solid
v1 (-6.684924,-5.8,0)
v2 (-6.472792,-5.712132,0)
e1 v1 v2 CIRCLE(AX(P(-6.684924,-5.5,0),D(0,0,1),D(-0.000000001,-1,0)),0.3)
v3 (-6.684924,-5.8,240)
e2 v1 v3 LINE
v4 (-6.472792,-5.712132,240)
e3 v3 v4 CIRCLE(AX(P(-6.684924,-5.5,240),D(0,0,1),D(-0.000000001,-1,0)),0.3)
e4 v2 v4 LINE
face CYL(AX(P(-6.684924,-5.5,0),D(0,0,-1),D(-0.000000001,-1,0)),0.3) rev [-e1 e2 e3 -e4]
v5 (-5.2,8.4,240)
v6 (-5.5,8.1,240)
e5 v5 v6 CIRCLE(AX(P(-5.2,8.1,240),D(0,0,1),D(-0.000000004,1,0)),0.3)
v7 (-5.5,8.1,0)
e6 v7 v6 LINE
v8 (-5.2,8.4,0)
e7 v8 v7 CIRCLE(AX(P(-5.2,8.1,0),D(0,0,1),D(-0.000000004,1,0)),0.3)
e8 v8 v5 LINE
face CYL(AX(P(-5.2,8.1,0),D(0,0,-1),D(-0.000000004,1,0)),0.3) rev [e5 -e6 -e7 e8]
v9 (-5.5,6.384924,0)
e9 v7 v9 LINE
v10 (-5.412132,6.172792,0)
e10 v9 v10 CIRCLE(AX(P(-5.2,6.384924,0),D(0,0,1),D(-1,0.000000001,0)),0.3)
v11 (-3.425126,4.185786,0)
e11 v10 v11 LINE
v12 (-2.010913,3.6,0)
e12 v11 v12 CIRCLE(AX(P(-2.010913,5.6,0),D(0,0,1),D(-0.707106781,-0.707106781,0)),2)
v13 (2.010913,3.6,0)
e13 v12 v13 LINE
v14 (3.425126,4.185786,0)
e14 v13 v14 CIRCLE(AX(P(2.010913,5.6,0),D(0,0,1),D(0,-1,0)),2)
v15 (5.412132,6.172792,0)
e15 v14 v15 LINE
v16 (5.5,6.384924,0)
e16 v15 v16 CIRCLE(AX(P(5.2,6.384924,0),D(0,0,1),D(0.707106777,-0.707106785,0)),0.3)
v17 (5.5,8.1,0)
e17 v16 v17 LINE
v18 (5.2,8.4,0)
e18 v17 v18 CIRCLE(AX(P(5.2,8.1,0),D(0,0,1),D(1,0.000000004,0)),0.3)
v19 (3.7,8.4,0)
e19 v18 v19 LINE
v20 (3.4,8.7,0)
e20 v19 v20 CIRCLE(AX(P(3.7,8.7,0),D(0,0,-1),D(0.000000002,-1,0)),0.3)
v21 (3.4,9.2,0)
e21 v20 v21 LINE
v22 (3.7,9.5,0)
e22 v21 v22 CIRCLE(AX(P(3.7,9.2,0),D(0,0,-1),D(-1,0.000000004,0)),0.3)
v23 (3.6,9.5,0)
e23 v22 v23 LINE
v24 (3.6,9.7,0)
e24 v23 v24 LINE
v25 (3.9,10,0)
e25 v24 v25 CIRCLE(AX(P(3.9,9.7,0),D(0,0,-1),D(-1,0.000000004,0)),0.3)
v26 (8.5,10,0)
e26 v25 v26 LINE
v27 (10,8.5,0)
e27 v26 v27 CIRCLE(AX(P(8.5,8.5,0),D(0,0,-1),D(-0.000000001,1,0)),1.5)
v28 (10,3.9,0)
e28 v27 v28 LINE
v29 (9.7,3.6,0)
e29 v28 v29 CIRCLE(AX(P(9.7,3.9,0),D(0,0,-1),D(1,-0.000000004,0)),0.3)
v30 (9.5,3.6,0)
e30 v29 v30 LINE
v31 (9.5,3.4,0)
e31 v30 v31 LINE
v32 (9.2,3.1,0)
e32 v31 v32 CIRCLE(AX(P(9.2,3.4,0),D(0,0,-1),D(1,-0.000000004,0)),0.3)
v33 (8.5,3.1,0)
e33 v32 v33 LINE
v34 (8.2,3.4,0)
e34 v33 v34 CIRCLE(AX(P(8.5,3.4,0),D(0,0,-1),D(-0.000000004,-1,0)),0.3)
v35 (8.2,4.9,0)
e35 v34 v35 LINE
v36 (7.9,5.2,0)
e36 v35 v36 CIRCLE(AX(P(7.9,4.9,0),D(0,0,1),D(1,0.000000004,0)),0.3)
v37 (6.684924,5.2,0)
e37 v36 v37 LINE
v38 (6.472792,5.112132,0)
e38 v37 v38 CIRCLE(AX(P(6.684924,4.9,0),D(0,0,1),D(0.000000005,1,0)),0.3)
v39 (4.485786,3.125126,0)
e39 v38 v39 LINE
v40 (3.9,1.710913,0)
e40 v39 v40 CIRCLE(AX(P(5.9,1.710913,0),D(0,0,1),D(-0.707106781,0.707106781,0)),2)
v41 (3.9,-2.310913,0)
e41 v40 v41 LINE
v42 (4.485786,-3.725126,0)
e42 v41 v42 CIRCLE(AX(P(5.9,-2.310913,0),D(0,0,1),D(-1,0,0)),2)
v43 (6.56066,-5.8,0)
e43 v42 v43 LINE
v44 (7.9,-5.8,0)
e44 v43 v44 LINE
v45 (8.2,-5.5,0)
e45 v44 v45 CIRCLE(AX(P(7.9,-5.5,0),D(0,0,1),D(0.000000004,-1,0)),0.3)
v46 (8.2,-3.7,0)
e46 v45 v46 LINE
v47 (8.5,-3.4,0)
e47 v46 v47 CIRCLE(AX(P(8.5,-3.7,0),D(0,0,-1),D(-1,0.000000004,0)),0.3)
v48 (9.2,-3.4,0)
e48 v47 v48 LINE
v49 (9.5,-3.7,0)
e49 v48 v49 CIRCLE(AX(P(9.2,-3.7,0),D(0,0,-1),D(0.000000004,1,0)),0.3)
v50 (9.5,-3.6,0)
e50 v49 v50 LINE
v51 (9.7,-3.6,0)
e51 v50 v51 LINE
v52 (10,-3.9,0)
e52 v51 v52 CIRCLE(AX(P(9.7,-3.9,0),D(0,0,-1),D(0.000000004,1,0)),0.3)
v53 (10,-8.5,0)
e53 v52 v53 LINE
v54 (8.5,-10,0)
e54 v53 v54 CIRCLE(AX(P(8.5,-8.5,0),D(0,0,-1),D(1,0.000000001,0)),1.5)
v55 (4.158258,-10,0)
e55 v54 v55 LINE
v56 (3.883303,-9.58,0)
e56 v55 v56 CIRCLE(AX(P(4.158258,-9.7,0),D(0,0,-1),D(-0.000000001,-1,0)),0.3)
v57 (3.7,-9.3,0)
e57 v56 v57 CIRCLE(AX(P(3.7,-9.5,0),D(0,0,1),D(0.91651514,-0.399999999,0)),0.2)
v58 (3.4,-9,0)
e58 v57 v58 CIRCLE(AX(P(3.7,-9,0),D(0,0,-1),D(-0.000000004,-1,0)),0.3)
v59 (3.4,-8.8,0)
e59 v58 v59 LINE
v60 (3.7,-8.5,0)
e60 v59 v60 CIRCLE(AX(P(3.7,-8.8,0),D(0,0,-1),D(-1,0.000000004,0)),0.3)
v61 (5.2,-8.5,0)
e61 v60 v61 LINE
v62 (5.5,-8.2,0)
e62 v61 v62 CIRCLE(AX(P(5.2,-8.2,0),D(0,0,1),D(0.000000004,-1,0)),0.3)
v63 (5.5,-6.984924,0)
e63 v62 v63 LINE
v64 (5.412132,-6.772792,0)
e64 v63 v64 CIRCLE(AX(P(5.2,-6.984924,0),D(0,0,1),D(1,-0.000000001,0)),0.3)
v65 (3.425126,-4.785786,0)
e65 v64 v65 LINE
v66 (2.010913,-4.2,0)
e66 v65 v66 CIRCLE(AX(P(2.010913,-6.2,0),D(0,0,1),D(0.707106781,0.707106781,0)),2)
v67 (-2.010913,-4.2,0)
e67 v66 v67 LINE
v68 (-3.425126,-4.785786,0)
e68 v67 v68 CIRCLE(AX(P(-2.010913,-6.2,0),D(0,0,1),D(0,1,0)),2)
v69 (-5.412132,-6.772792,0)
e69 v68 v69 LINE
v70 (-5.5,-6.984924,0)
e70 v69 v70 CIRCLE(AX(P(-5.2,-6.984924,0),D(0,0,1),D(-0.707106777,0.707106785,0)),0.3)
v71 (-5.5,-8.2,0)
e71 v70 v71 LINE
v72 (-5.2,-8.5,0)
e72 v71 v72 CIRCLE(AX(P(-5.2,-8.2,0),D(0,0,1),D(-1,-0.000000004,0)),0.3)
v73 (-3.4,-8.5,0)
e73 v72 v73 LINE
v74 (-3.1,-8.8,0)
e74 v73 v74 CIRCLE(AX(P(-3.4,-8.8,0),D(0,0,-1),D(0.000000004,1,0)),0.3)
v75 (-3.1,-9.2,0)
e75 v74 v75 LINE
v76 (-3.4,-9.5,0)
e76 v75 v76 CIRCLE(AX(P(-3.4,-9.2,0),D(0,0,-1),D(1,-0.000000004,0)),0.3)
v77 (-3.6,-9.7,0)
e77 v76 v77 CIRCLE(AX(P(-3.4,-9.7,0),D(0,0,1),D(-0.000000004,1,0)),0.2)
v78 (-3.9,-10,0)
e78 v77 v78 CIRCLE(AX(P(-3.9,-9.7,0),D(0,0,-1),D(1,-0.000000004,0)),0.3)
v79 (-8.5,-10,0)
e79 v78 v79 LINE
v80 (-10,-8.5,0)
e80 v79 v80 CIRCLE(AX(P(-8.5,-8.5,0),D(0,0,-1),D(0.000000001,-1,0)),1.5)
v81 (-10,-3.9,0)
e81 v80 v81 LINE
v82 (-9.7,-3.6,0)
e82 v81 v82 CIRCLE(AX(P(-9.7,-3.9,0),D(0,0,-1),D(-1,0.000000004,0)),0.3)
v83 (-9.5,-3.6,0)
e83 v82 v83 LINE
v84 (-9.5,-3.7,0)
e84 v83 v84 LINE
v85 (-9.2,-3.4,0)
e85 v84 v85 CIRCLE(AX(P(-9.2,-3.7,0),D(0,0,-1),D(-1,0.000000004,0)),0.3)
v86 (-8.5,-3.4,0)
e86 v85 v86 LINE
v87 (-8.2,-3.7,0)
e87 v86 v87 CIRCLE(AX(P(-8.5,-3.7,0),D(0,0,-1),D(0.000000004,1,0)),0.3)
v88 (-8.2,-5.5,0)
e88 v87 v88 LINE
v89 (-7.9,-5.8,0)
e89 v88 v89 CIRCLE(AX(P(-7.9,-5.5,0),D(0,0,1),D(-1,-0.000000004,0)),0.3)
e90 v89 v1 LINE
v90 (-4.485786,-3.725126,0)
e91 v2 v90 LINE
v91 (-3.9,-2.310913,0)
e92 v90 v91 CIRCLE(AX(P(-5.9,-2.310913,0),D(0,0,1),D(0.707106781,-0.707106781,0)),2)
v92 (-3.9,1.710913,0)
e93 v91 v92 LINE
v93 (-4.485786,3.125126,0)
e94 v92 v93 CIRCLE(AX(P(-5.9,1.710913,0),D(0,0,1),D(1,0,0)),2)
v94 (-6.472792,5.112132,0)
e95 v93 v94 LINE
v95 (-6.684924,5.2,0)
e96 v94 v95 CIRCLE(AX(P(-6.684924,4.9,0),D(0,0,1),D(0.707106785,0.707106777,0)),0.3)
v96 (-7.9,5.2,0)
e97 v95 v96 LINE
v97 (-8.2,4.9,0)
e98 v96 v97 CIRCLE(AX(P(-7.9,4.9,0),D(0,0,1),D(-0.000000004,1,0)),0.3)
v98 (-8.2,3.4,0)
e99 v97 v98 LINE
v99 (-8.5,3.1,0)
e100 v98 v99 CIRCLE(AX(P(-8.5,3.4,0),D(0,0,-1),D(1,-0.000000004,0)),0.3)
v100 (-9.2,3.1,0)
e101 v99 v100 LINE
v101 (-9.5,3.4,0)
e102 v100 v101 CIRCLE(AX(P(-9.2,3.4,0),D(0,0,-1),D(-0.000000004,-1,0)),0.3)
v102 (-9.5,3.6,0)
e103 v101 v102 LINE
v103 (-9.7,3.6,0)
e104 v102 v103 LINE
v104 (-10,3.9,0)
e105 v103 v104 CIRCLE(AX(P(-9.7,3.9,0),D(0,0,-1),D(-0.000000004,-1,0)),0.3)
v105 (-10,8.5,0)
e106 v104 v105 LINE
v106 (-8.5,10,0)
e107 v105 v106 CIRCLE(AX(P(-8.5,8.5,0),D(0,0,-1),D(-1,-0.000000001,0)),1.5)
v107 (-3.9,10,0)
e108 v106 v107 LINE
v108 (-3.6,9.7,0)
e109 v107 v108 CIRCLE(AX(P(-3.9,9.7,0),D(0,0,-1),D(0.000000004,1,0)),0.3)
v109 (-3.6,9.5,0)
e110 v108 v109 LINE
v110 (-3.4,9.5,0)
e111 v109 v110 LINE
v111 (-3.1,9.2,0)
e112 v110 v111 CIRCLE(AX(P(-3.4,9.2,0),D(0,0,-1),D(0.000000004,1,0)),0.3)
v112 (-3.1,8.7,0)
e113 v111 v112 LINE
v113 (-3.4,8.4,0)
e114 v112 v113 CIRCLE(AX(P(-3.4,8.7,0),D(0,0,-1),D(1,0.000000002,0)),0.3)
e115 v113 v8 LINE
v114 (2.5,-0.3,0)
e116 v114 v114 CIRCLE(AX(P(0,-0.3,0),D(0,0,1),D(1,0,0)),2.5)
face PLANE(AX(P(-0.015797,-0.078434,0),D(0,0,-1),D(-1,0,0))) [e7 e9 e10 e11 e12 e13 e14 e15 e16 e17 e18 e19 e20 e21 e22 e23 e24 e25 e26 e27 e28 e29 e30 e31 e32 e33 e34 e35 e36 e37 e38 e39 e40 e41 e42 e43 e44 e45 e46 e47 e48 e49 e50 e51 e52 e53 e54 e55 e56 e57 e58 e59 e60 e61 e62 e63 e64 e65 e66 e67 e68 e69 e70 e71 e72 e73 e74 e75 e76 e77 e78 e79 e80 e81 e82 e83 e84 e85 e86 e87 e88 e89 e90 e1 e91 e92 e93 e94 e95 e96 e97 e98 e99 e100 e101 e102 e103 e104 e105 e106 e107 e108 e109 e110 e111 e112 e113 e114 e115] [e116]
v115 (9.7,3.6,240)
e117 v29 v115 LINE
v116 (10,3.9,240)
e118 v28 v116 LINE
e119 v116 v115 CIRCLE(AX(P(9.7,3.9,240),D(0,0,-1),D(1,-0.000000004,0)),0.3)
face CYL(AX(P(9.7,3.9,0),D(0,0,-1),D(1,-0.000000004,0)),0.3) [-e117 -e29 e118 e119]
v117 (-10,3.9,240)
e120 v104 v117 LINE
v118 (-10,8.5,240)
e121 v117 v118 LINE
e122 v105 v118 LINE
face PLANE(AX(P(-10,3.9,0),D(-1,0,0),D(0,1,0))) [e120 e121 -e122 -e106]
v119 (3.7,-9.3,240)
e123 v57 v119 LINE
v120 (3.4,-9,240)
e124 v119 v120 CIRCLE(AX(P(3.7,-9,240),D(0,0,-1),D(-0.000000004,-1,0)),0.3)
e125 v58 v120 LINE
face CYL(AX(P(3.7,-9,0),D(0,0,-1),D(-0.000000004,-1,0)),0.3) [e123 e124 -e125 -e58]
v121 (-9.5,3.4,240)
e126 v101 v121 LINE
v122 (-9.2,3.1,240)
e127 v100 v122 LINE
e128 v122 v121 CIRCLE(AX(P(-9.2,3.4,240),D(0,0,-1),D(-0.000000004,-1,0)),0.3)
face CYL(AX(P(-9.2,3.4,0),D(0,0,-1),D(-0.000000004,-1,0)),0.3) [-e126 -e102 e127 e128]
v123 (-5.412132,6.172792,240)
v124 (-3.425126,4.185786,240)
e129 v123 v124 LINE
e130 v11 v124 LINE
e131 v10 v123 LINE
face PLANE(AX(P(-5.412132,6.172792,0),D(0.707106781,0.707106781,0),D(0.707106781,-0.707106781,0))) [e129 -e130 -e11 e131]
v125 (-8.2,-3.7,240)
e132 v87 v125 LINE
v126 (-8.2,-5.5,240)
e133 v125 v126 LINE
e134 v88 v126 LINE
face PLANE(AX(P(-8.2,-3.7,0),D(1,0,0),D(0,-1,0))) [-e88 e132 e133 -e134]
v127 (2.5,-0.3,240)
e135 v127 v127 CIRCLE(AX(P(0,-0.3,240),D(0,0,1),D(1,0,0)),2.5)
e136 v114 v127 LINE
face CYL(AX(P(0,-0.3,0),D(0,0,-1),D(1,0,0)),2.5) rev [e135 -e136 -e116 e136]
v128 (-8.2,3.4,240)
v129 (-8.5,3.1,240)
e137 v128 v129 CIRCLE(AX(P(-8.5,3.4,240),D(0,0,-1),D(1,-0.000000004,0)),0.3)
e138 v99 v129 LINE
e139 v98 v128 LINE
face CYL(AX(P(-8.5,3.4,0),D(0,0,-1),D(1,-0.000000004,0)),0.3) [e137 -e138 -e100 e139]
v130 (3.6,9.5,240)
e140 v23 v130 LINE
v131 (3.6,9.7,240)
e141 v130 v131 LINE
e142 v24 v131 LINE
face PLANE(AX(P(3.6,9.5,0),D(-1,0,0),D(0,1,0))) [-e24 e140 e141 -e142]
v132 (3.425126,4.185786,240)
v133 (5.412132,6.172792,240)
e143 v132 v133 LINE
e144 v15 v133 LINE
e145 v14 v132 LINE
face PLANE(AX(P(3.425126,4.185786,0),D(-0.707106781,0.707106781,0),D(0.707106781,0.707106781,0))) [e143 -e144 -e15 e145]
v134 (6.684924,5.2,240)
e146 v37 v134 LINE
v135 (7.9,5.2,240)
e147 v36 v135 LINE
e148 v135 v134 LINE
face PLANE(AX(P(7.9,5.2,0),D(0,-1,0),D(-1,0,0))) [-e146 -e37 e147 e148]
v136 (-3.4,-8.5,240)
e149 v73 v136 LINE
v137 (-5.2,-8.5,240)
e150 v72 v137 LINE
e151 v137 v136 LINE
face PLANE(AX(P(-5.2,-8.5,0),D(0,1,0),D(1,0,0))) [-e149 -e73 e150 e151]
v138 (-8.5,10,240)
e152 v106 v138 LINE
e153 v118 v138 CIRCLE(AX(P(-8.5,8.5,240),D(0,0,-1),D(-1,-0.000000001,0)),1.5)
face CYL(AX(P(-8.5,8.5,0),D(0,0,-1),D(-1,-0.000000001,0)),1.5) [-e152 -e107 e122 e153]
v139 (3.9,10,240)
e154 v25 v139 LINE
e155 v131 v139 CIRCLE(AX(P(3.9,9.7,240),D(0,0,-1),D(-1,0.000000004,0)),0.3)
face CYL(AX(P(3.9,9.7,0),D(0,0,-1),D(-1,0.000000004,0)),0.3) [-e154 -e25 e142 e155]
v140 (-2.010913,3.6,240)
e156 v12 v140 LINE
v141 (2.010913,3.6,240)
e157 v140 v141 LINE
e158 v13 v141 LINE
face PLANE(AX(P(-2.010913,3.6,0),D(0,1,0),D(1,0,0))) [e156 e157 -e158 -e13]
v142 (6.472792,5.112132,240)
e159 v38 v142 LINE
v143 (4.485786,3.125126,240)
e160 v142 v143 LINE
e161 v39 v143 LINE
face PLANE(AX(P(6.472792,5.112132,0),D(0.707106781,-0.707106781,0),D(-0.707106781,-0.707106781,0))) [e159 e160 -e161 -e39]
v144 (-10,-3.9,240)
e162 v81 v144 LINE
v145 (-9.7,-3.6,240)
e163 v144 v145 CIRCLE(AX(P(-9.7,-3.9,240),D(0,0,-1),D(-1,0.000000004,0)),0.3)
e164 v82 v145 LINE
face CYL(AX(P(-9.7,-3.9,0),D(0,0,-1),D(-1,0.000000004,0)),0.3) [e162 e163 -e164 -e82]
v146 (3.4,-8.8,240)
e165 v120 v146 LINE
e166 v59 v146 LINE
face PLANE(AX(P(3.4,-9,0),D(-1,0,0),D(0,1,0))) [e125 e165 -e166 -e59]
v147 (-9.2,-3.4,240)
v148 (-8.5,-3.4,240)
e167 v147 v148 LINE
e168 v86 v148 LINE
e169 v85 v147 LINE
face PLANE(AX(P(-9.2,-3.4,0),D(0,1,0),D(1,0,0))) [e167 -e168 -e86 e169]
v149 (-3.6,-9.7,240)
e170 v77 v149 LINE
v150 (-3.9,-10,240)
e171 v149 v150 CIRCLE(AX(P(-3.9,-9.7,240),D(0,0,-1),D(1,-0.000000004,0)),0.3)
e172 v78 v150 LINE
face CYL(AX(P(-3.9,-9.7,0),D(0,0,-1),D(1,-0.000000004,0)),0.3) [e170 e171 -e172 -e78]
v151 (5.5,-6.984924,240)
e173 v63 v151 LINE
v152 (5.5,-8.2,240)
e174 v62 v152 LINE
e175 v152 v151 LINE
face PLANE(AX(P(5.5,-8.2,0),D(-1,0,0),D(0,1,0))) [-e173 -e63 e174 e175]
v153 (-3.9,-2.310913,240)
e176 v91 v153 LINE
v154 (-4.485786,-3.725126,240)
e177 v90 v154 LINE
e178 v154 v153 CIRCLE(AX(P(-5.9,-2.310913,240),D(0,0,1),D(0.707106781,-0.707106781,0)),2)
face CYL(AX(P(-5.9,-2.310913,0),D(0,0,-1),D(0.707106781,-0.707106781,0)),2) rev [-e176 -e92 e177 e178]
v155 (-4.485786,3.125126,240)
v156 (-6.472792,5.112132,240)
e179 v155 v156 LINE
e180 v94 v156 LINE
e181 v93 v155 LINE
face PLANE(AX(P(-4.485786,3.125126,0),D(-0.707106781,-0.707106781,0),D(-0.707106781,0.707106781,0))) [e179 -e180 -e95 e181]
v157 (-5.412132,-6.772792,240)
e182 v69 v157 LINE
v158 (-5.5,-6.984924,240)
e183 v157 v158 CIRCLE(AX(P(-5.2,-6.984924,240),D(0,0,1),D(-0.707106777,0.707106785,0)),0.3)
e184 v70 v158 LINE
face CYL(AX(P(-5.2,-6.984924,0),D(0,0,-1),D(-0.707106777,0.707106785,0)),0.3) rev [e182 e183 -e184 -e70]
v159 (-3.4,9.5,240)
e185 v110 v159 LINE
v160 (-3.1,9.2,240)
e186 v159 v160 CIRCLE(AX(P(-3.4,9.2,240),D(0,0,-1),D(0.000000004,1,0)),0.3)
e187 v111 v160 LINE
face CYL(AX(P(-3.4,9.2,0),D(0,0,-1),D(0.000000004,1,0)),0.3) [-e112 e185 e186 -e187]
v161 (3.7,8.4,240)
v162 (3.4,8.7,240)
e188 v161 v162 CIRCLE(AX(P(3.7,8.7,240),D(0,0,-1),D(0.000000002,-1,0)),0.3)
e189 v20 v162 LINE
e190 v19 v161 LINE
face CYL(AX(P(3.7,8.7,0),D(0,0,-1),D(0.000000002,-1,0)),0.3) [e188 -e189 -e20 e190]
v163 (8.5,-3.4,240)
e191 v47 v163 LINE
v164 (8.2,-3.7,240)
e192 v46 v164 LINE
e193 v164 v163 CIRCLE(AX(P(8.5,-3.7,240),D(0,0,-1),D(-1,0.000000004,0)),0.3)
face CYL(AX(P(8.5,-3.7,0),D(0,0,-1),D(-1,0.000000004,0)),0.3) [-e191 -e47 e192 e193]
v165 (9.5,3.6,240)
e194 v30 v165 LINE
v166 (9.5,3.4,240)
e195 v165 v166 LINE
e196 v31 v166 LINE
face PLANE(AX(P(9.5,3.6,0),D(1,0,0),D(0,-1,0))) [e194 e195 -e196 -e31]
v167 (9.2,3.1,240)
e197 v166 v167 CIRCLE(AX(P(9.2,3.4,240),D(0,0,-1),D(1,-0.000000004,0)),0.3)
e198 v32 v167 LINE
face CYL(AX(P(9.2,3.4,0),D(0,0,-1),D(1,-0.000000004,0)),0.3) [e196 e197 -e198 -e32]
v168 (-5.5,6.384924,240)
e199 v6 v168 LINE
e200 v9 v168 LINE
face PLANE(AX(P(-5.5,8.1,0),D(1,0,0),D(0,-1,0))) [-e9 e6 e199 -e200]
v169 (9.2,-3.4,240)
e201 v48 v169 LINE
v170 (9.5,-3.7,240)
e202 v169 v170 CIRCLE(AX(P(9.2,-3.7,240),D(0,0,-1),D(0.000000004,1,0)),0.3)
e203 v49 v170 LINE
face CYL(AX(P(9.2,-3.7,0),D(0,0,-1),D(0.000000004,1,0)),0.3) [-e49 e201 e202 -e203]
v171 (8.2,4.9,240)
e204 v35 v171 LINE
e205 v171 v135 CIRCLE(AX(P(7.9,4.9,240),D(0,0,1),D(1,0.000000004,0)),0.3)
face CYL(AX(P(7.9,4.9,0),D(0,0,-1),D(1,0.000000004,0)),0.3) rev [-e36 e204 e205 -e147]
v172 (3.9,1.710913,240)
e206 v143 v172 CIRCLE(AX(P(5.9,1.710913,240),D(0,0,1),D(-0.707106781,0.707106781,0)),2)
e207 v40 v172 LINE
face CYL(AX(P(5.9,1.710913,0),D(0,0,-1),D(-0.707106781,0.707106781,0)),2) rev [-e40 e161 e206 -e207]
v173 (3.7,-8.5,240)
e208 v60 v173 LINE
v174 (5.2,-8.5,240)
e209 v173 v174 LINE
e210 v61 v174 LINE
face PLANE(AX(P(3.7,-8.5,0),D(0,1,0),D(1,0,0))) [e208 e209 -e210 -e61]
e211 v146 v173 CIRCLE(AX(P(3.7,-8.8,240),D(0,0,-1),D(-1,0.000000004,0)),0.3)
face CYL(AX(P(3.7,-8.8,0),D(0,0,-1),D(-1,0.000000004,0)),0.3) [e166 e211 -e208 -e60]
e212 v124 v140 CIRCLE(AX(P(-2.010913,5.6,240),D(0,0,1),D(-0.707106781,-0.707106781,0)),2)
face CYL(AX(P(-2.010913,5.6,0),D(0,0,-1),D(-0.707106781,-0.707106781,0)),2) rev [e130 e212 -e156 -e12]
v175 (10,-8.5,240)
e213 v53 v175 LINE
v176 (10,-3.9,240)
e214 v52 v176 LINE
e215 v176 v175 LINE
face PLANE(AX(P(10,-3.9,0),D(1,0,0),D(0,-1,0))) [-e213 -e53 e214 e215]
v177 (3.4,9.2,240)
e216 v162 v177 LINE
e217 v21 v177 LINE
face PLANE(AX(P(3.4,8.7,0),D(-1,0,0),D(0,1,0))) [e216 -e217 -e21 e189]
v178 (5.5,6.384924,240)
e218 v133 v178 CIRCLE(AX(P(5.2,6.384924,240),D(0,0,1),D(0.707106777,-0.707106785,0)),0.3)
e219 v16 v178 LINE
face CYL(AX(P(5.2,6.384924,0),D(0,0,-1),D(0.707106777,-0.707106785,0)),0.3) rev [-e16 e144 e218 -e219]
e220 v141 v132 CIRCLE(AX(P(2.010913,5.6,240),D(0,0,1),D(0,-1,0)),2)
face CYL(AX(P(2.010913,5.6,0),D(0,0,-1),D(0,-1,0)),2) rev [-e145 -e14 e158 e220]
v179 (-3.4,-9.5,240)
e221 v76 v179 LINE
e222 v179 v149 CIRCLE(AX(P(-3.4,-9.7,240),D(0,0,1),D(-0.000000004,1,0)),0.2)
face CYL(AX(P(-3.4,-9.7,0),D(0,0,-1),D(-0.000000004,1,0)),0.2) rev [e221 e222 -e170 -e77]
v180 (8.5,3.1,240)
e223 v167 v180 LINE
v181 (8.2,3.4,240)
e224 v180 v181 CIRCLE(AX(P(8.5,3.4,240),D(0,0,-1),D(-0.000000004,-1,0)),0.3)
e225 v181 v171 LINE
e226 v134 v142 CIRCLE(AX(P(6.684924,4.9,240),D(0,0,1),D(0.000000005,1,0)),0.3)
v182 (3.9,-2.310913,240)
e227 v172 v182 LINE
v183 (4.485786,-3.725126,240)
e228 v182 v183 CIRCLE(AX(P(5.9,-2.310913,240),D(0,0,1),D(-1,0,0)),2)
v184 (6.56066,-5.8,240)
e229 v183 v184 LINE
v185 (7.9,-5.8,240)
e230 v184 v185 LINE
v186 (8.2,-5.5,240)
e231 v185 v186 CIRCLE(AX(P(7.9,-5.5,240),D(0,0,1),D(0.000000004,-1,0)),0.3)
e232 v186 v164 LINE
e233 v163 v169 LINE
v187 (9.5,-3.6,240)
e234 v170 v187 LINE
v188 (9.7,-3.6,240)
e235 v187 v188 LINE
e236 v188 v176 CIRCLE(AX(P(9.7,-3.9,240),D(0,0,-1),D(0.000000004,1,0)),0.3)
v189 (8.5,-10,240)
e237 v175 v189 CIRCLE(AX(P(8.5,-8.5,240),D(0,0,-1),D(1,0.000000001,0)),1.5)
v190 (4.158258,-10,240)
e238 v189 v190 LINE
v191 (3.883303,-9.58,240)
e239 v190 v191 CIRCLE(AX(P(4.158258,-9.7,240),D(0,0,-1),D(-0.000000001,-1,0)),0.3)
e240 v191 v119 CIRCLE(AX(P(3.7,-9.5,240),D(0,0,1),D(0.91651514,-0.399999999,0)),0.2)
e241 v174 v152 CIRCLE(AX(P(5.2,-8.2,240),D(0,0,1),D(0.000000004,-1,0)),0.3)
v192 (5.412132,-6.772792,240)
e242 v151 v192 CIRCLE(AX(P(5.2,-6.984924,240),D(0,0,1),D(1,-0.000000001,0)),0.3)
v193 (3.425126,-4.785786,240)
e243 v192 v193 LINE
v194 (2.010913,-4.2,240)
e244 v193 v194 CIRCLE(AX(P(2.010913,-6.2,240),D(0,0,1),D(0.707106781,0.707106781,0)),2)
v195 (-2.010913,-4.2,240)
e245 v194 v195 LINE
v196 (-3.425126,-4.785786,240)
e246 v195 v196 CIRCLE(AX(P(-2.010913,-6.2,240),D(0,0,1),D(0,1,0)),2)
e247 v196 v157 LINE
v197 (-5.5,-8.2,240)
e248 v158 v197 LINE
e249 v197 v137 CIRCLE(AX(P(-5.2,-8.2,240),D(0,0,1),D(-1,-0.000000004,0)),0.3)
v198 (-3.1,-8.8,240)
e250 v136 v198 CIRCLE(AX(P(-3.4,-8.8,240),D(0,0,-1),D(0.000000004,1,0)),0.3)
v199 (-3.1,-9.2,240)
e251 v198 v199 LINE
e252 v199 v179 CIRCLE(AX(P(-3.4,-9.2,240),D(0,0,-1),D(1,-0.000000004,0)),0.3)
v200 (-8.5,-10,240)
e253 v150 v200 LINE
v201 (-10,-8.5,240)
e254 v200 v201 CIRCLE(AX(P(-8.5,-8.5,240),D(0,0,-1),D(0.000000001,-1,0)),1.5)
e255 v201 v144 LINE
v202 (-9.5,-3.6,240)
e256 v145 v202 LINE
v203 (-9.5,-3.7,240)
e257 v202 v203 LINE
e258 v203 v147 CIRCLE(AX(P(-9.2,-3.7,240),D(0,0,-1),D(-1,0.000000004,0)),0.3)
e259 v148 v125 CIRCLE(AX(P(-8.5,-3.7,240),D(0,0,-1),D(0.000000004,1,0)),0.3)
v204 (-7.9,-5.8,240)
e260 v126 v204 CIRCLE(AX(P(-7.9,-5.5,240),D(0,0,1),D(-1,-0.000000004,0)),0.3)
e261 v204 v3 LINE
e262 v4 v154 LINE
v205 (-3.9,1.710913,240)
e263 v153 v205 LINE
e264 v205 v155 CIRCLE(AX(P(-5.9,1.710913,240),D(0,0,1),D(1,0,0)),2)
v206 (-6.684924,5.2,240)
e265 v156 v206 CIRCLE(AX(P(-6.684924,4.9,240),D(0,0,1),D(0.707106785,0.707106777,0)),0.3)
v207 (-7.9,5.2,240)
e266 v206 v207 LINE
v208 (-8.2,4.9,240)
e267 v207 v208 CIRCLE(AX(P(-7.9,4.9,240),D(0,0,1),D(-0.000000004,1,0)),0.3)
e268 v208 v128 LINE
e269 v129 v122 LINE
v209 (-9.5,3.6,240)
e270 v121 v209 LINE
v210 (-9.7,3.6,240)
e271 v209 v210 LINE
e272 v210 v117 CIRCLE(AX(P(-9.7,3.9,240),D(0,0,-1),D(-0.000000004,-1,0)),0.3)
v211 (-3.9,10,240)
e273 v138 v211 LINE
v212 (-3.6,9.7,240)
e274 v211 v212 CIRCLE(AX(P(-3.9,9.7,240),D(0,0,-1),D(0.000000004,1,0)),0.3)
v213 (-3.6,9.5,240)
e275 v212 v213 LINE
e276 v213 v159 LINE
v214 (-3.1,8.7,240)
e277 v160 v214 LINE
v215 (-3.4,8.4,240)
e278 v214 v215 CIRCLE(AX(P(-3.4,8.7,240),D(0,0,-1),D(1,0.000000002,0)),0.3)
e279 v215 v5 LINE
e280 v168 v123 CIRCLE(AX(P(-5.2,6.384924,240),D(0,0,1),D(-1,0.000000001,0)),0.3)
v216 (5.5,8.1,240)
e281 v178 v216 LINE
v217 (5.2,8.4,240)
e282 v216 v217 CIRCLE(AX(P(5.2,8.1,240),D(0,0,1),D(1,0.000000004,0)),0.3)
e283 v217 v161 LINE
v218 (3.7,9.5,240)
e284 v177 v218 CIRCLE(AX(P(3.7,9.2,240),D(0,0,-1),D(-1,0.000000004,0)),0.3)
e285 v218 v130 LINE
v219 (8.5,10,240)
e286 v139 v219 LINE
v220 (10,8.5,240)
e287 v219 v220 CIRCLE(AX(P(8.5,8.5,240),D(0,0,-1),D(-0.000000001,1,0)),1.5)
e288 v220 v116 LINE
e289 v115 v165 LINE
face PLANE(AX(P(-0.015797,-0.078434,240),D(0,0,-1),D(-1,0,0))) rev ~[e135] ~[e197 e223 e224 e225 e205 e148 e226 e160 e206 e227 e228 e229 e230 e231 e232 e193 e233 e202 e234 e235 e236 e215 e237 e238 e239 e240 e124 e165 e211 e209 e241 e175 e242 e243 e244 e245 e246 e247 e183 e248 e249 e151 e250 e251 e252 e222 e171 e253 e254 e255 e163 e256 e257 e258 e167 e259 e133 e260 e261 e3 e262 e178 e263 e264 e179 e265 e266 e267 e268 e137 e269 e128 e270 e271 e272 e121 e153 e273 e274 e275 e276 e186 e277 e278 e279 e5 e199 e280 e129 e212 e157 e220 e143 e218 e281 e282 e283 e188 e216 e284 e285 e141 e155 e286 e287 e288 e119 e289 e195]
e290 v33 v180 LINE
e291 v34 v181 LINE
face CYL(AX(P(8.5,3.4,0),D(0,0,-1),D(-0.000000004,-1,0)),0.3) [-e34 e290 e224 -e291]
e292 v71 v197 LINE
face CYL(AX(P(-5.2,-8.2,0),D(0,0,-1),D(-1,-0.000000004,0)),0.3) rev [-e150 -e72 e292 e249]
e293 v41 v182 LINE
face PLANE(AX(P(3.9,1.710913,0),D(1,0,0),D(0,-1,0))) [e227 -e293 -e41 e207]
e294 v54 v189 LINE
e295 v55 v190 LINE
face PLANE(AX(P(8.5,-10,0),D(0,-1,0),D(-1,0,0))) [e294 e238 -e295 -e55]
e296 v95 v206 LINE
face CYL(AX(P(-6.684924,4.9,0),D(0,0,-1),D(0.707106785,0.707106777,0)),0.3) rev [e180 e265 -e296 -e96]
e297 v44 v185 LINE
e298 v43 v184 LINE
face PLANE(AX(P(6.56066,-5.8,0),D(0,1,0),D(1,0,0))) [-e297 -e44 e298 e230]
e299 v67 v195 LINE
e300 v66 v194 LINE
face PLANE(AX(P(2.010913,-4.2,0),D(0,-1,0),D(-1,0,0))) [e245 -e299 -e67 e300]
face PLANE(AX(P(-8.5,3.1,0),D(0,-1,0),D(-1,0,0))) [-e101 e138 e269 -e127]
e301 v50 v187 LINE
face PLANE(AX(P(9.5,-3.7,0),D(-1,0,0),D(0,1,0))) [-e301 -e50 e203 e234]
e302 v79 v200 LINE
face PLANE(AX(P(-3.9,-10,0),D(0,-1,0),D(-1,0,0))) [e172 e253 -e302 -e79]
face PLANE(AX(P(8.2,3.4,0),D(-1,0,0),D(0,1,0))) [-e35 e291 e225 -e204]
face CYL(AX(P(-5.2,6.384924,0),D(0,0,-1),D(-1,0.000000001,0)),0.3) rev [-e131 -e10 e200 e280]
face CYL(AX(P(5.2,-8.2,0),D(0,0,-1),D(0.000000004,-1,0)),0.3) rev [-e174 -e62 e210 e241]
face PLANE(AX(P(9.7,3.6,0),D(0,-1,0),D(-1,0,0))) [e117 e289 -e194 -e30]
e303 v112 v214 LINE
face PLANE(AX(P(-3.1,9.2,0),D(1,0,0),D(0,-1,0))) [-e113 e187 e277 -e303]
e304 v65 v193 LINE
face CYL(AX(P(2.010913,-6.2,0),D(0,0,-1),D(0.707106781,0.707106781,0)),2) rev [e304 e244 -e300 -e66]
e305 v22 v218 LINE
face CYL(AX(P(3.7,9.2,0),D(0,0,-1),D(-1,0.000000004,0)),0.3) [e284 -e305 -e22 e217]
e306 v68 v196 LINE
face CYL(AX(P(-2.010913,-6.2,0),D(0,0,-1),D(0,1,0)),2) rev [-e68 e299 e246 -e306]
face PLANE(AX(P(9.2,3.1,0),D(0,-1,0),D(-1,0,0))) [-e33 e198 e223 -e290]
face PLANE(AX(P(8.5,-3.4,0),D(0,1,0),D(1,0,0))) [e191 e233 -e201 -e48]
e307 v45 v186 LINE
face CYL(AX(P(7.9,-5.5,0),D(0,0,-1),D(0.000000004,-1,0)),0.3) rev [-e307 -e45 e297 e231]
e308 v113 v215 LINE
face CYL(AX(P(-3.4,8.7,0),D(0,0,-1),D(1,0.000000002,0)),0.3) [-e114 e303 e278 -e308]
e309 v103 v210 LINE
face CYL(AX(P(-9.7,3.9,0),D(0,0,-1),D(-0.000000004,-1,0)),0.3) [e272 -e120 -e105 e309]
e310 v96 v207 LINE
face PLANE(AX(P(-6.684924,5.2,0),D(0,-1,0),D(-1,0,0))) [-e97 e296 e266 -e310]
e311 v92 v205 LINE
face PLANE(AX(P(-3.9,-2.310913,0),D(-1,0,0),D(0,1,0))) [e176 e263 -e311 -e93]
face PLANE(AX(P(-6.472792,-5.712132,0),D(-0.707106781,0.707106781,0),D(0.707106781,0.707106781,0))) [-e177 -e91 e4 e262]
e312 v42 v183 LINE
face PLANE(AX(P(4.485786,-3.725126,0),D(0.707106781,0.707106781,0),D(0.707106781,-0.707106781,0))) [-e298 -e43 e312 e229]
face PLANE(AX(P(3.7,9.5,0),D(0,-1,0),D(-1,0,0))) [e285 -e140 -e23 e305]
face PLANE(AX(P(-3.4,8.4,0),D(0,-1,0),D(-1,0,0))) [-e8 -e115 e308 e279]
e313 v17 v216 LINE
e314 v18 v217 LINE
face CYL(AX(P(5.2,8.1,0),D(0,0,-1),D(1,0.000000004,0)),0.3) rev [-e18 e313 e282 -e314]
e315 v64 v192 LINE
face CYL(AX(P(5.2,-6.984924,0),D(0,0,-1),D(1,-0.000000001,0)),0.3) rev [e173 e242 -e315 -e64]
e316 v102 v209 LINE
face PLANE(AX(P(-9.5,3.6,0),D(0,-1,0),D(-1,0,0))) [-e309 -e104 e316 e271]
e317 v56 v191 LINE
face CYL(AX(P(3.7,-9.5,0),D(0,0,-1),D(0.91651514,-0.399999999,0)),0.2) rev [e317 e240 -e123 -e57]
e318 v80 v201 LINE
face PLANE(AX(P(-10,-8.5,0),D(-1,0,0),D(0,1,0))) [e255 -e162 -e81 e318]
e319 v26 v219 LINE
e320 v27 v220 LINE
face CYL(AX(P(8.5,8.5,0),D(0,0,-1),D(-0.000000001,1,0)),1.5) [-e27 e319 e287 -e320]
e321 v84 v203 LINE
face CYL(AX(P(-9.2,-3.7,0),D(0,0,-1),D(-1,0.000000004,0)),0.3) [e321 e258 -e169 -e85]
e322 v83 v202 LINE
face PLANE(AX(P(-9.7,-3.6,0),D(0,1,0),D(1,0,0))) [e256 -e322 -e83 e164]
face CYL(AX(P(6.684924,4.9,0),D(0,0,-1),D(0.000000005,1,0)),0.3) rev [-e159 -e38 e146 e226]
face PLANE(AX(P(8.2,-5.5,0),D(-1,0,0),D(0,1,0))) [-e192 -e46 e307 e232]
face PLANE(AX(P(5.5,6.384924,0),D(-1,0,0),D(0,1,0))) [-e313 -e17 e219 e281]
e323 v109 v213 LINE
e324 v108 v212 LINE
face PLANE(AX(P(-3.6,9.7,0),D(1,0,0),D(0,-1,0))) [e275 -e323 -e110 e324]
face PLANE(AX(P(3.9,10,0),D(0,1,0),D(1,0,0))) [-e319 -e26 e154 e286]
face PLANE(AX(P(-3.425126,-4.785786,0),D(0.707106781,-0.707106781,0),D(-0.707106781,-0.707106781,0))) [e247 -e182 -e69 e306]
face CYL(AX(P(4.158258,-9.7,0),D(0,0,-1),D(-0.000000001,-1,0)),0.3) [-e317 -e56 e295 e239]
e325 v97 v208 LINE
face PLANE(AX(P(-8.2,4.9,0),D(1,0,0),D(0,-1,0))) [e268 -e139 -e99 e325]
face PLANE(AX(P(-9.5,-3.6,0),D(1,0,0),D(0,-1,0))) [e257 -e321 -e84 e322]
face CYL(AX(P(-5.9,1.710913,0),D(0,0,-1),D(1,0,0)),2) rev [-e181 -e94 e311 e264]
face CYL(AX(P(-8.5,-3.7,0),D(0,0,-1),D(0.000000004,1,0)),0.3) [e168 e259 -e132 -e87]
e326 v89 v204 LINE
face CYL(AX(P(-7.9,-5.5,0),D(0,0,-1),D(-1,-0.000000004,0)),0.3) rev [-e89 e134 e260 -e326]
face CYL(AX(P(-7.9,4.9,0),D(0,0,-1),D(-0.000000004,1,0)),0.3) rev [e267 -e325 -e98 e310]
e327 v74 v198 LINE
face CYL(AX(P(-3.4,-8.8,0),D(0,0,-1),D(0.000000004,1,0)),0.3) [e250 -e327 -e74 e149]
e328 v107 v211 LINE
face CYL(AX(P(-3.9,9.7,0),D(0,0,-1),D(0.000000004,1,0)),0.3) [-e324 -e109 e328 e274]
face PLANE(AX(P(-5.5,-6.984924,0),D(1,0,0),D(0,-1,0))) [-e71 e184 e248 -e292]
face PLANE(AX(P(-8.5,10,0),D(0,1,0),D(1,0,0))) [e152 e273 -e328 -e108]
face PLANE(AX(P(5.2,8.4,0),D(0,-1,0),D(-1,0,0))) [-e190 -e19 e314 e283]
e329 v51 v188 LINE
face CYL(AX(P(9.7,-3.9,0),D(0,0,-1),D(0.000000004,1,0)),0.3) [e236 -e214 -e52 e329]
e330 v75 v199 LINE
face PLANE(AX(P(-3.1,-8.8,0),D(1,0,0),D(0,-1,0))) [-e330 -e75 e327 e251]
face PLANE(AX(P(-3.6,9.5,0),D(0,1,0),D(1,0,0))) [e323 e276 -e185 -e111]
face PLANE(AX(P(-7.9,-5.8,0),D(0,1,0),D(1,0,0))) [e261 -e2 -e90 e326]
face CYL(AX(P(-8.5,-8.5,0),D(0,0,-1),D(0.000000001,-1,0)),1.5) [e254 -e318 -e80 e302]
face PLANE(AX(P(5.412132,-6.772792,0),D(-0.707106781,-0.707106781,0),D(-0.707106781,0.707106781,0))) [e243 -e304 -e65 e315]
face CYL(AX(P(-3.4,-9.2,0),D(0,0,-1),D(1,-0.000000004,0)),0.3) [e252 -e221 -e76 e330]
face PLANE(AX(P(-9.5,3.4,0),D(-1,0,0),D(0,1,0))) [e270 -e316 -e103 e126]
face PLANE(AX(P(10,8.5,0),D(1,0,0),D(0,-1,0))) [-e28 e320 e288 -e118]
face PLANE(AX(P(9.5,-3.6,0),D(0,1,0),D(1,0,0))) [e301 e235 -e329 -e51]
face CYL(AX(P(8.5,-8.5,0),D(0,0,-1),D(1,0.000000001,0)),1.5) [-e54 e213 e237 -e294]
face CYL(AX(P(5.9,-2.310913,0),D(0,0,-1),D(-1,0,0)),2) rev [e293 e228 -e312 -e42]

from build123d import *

# Parameters (mm, degrees)
MODEL_R             = 2.5
BOSS_EXTRUDE1_DEPTH = 240


with BuildPart() as part:
    # Model → Boss-Extrude1 (new body)
    with BuildSketch(Plane.XY):
        with BuildLine():
            Line((3.9, -0.3), (3.9, -2.310912704))
            ThreePointArc((3.9, -2.310912704), (4.052240935, -3.076279568), (4.485786438, -3.725126266))
            Line((4.485786438, -3.725126266), (6.560660172, -5.8))
            Line((6.560660172, -5.8), (7.9, -5.8))
            ThreePointArc((7.9, -5.8), (8.112132034, -5.712132034), (8.2, -5.5))
            Line((8.2, -5.5), (8.2, -3.7))
            ThreePointArc((8.2, -3.7), (8.287867966, -3.487867966), (8.5, -3.4))
            Line((8.5, -3.4), (9.2, -3.4))
            ThreePointArc((9.2, -3.4), (9.412132034, -3.487867966), (9.5, -3.7))
            Line((9.5, -3.7), (9.5, -3.6))
            Line((9.5, -3.6), (9.7, -3.6))
            ThreePointArc((9.7, -3.6), (9.912132034, -3.687867966), (10, -3.9))
            Line((10, -3.9), (10, -8.5))
            ThreePointArc((10, -8.5), (9.560660172, -9.560660172), (8.5, -10))
            Line((8.5, -10), (4.15825757, -10))
            ThreePointArc((4.15825757, -10), (3.907259562, -9.864316767), (3.883303028, -9.58))
            ThreePointArc((3.883303028, -9.58), (3.867332005, -9.390455488), (3.7, -9.3))
            ThreePointArc((3.7, -9.3), (3.487867966, -9.212132034), (3.4, -9))
            Line((3.4, -9), (3.4, -8.8))
            ThreePointArc((3.4, -8.8), (3.487867966, -8.587867966), (3.7, -8.5))
            Line((3.7, -8.5), (5.2, -8.5))
            ThreePointArc((5.2, -8.5), (5.412132034, -8.412132034), (5.5, -8.2))
            Line((5.5, -8.2), (5.5, -6.98492424))
            ThreePointArc((5.5, -6.98492424), (5.47716386, -6.870119211), (5.412132034, -6.772792206))
            Line((5.412132034, -6.772792206), (3.425126266, -4.785786438))
            ThreePointArc((3.425126266, -4.785786438), (2.776279568, -4.352240935), (2.010912703, -4.2))
            Line((2.010912703, -4.2), (0, -4.2))
            Line((0, -4.2), (-2.010912703, -4.2))
            ThreePointArc((-2.010912703, -4.2), (-2.776279568, -4.352240935), (-3.425126266, -4.785786438))
            Line((-3.425126266, -4.785786438), (-5.412132034, -6.772792206))
            ThreePointArc((-5.412132034, -6.772792206), (-5.47716386, -6.870119211), (-5.5, -6.984924241))
            Line((-5.5, -6.984924241), (-5.5, -8.2))
            ThreePointArc((-5.5, -8.2), (-5.412132034, -8.412132034), (-5.2, -8.5))
            Line((-5.2, -8.5), (-3.4, -8.5))
            ThreePointArc((-3.4, -8.5), (-3.187867966, -8.587867966), (-3.1, -8.8))
            Line((-3.1, -8.8), (-3.1, -9.2))
            ThreePointArc((-3.1, -9.2), (-3.187867966, -9.412132034), (-3.4, -9.5))
            ThreePointArc((-3.4, -9.5), (-3.541421356, -9.558578644), (-3.6, -9.7))
            ThreePointArc((-3.6, -9.7), (-3.687867966, -9.912132034), (-3.9, -10))
            Line((-3.9, -10), (-8.5, -10))
            ThreePointArc((-8.5, -10), (-9.560660172, -9.560660172), (-10, -8.5))
            Line((-10, -8.5), (-10, -3.9))
            ThreePointArc((-10, -3.9), (-9.912132034, -3.687867966), (-9.7, -3.6))
            Line((-9.7, -3.6), (-9.5, -3.6))
            Line((-9.5, -3.6), (-9.5, -3.7))
            ThreePointArc((-9.5, -3.7), (-9.412132034, -3.487867966), (-9.2, -3.4))
            Line((-9.2, -3.4), (-8.5, -3.4))
            ThreePointArc((-8.5, -3.4), (-8.287867966, -3.487867966), (-8.2, -3.7))
            Line((-8.2, -3.7), (-8.2, -5.5))
            ThreePointArc((-8.2, -5.5), (-8.112132034, -5.712132034), (-7.9, -5.8))
            Line((-7.9, -5.8), (-6.68492424, -5.8))
            ThreePointArc((-6.68492424, -5.8), (-6.570119211, -5.77716386), (-6.472792206, -5.712132034))
            Line((-6.472792206, -5.712132034), (-4.485786438, -3.725126266))
            ThreePointArc((-4.485786438, -3.725126266), (-4.052240935, -3.076279568), (-3.9, -2.310912704))
            Line((-3.9, -2.310912704), (-3.9, -0.3))
            Line((-3.9, -0.3), (-3.9, 1.710912703))
            ThreePointArc((-3.9, 1.710912703), (-4.052240935, 2.476279568), (-4.485786438, 3.125126266))
            Line((-4.485786438, 3.125126266), (-6.472792206, 5.112132034))
            ThreePointArc((-6.472792206, 5.112132034), (-6.570119211, 5.17716386), (-6.68492424, 5.2))
            Line((-6.68492424, 5.2), (-7.9, 5.2))
            ThreePointArc((-7.9, 5.2), (-8.112132034, 5.112132034), (-8.2, 4.9))
            Line((-8.2, 4.9), (-8.2, 3.4))
            ThreePointArc((-8.2, 3.4), (-8.287867966, 3.187867966), (-8.5, 3.1))
            Line((-8.5, 3.1), (-9.2, 3.1))
            ThreePointArc((-9.2, 3.1), (-9.412132034, 3.187867966), (-9.5, 3.4))
            Line((-9.5, 3.4), (-9.5, 3.6))
            Line((-9.5, 3.6), (-9.7, 3.6))
            ThreePointArc((-9.7, 3.6), (-9.912132034, 3.687867966), (-10, 3.9))
            Line((-10, 3.9), (-10, 8.5))
            ThreePointArc((-10, 8.5), (-9.560660172, 9.560660172), (-8.5, 10))
            Line((-8.5, 10), (-3.9, 10))
            ThreePointArc((-3.9, 10), (-3.687867966, 9.912132034), (-3.6, 9.7))
            Line((-3.6, 9.7), (-3.6, 9.5))
            Line((-3.6, 9.5), (-3.4, 9.5))
            ThreePointArc((-3.4, 9.5), (-3.187867966, 9.412132034), (-3.1, 9.2))
            Line((-3.1, 9.2), (-3.1, 8.7))
            ThreePointArc((-3.1, 8.7), (-3.187867966, 8.487867965), (-3.4, 8.4))
            Line((-3.4, 8.4), (-5.2, 8.4))
            ThreePointArc((-5.2, 8.4), (-5.412132034, 8.312132034), (-5.5, 8.1))
            Line((-5.5, 8.1), (-5.5, 6.38492424))
            ThreePointArc((-5.5, 6.38492424), (-5.47716386, 6.270119211), (-5.412132034, 6.172792206))
            Line((-5.412132034, 6.172792206), (-3.425126266, 4.185786438))
            ThreePointArc((-3.425126266, 4.185786438), (-2.776279568, 3.752240935), (-2.010912703, 3.6))
            Line((-2.010912703, 3.6), (0, 3.6))
            Line((0, 3.6), (2.010912703, 3.6))
            ThreePointArc((2.010912703, 3.6), (2.776279568, 3.752240935), (3.425126266, 4.185786438))
            Line((3.425126266, 4.185786438), (5.412132034, 6.172792206))
            ThreePointArc((5.412132034, 6.172792206), (5.47716386, 6.270119211), (5.5, 6.38492424))
            Line((5.5, 6.38492424), (5.5, 8.1))
            ThreePointArc((5.5, 8.1), (5.412132034, 8.312132034), (5.2, 8.4))
            Line((5.2, 8.4), (3.7, 8.4))
            ThreePointArc((3.7, 8.4), (3.487867966, 8.487867965), (3.4, 8.7))
            Line((3.4, 8.7), (3.4, 9.2))
            ThreePointArc((3.4, 9.2), (3.487867966, 9.412132034), (3.7, 9.5))
            Line((3.7, 9.5), (3.6, 9.5))
            Line((3.6, 9.5), (3.6, 9.7))
            ThreePointArc((3.6, 9.7), (3.687867966, 9.912132034), (3.9, 10))
            Line((3.9, 10), (8.5, 10))
            ThreePointArc((8.5, 10), (9.560660172, 9.560660172), (10, 8.5))
            Line((10, 8.5), (10, 3.9))
            ThreePointArc((10, 3.9), (9.912132034, 3.687867966), (9.7, 3.6))
            Line((9.7, 3.6), (9.5, 3.6))
            Line((9.5, 3.6), (9.5, 3.4))
            ThreePointArc((9.5, 3.4), (9.412132034, 3.187867966), (9.2, 3.1))
            Line((9.2, 3.1), (8.5, 3.1))
            ThreePointArc((8.5, 3.1), (8.287867966, 3.187867966), (8.2, 3.4))
            Line((8.2, 3.4), (8.2, 4.9))
            ThreePointArc((8.2, 4.9), (8.112132034, 5.112132034), (7.9, 5.2))
            Line((7.9, 5.2), (6.684924241, 5.2))
            ThreePointArc((6.684924241, 5.2), (6.570119211, 5.17716386), (6.472792206, 5.112132034))
            Line((6.472792206, 5.112132034), (4.485786438, 3.125126266))
            ThreePointArc((4.485786438, 3.125126266), (4.052240935, 2.476279568), (3.9, 1.710912703))
            Line((3.9, 1.710912703), (3.9, -0.3))
        make_face()
        with Locations((0, -0.3)):
            Circle(MODEL_R, mode=Mode.SUBTRACT)
    extrude(amount=BOSS_EXTRUDE1_DEPTH)


solid = part.part
